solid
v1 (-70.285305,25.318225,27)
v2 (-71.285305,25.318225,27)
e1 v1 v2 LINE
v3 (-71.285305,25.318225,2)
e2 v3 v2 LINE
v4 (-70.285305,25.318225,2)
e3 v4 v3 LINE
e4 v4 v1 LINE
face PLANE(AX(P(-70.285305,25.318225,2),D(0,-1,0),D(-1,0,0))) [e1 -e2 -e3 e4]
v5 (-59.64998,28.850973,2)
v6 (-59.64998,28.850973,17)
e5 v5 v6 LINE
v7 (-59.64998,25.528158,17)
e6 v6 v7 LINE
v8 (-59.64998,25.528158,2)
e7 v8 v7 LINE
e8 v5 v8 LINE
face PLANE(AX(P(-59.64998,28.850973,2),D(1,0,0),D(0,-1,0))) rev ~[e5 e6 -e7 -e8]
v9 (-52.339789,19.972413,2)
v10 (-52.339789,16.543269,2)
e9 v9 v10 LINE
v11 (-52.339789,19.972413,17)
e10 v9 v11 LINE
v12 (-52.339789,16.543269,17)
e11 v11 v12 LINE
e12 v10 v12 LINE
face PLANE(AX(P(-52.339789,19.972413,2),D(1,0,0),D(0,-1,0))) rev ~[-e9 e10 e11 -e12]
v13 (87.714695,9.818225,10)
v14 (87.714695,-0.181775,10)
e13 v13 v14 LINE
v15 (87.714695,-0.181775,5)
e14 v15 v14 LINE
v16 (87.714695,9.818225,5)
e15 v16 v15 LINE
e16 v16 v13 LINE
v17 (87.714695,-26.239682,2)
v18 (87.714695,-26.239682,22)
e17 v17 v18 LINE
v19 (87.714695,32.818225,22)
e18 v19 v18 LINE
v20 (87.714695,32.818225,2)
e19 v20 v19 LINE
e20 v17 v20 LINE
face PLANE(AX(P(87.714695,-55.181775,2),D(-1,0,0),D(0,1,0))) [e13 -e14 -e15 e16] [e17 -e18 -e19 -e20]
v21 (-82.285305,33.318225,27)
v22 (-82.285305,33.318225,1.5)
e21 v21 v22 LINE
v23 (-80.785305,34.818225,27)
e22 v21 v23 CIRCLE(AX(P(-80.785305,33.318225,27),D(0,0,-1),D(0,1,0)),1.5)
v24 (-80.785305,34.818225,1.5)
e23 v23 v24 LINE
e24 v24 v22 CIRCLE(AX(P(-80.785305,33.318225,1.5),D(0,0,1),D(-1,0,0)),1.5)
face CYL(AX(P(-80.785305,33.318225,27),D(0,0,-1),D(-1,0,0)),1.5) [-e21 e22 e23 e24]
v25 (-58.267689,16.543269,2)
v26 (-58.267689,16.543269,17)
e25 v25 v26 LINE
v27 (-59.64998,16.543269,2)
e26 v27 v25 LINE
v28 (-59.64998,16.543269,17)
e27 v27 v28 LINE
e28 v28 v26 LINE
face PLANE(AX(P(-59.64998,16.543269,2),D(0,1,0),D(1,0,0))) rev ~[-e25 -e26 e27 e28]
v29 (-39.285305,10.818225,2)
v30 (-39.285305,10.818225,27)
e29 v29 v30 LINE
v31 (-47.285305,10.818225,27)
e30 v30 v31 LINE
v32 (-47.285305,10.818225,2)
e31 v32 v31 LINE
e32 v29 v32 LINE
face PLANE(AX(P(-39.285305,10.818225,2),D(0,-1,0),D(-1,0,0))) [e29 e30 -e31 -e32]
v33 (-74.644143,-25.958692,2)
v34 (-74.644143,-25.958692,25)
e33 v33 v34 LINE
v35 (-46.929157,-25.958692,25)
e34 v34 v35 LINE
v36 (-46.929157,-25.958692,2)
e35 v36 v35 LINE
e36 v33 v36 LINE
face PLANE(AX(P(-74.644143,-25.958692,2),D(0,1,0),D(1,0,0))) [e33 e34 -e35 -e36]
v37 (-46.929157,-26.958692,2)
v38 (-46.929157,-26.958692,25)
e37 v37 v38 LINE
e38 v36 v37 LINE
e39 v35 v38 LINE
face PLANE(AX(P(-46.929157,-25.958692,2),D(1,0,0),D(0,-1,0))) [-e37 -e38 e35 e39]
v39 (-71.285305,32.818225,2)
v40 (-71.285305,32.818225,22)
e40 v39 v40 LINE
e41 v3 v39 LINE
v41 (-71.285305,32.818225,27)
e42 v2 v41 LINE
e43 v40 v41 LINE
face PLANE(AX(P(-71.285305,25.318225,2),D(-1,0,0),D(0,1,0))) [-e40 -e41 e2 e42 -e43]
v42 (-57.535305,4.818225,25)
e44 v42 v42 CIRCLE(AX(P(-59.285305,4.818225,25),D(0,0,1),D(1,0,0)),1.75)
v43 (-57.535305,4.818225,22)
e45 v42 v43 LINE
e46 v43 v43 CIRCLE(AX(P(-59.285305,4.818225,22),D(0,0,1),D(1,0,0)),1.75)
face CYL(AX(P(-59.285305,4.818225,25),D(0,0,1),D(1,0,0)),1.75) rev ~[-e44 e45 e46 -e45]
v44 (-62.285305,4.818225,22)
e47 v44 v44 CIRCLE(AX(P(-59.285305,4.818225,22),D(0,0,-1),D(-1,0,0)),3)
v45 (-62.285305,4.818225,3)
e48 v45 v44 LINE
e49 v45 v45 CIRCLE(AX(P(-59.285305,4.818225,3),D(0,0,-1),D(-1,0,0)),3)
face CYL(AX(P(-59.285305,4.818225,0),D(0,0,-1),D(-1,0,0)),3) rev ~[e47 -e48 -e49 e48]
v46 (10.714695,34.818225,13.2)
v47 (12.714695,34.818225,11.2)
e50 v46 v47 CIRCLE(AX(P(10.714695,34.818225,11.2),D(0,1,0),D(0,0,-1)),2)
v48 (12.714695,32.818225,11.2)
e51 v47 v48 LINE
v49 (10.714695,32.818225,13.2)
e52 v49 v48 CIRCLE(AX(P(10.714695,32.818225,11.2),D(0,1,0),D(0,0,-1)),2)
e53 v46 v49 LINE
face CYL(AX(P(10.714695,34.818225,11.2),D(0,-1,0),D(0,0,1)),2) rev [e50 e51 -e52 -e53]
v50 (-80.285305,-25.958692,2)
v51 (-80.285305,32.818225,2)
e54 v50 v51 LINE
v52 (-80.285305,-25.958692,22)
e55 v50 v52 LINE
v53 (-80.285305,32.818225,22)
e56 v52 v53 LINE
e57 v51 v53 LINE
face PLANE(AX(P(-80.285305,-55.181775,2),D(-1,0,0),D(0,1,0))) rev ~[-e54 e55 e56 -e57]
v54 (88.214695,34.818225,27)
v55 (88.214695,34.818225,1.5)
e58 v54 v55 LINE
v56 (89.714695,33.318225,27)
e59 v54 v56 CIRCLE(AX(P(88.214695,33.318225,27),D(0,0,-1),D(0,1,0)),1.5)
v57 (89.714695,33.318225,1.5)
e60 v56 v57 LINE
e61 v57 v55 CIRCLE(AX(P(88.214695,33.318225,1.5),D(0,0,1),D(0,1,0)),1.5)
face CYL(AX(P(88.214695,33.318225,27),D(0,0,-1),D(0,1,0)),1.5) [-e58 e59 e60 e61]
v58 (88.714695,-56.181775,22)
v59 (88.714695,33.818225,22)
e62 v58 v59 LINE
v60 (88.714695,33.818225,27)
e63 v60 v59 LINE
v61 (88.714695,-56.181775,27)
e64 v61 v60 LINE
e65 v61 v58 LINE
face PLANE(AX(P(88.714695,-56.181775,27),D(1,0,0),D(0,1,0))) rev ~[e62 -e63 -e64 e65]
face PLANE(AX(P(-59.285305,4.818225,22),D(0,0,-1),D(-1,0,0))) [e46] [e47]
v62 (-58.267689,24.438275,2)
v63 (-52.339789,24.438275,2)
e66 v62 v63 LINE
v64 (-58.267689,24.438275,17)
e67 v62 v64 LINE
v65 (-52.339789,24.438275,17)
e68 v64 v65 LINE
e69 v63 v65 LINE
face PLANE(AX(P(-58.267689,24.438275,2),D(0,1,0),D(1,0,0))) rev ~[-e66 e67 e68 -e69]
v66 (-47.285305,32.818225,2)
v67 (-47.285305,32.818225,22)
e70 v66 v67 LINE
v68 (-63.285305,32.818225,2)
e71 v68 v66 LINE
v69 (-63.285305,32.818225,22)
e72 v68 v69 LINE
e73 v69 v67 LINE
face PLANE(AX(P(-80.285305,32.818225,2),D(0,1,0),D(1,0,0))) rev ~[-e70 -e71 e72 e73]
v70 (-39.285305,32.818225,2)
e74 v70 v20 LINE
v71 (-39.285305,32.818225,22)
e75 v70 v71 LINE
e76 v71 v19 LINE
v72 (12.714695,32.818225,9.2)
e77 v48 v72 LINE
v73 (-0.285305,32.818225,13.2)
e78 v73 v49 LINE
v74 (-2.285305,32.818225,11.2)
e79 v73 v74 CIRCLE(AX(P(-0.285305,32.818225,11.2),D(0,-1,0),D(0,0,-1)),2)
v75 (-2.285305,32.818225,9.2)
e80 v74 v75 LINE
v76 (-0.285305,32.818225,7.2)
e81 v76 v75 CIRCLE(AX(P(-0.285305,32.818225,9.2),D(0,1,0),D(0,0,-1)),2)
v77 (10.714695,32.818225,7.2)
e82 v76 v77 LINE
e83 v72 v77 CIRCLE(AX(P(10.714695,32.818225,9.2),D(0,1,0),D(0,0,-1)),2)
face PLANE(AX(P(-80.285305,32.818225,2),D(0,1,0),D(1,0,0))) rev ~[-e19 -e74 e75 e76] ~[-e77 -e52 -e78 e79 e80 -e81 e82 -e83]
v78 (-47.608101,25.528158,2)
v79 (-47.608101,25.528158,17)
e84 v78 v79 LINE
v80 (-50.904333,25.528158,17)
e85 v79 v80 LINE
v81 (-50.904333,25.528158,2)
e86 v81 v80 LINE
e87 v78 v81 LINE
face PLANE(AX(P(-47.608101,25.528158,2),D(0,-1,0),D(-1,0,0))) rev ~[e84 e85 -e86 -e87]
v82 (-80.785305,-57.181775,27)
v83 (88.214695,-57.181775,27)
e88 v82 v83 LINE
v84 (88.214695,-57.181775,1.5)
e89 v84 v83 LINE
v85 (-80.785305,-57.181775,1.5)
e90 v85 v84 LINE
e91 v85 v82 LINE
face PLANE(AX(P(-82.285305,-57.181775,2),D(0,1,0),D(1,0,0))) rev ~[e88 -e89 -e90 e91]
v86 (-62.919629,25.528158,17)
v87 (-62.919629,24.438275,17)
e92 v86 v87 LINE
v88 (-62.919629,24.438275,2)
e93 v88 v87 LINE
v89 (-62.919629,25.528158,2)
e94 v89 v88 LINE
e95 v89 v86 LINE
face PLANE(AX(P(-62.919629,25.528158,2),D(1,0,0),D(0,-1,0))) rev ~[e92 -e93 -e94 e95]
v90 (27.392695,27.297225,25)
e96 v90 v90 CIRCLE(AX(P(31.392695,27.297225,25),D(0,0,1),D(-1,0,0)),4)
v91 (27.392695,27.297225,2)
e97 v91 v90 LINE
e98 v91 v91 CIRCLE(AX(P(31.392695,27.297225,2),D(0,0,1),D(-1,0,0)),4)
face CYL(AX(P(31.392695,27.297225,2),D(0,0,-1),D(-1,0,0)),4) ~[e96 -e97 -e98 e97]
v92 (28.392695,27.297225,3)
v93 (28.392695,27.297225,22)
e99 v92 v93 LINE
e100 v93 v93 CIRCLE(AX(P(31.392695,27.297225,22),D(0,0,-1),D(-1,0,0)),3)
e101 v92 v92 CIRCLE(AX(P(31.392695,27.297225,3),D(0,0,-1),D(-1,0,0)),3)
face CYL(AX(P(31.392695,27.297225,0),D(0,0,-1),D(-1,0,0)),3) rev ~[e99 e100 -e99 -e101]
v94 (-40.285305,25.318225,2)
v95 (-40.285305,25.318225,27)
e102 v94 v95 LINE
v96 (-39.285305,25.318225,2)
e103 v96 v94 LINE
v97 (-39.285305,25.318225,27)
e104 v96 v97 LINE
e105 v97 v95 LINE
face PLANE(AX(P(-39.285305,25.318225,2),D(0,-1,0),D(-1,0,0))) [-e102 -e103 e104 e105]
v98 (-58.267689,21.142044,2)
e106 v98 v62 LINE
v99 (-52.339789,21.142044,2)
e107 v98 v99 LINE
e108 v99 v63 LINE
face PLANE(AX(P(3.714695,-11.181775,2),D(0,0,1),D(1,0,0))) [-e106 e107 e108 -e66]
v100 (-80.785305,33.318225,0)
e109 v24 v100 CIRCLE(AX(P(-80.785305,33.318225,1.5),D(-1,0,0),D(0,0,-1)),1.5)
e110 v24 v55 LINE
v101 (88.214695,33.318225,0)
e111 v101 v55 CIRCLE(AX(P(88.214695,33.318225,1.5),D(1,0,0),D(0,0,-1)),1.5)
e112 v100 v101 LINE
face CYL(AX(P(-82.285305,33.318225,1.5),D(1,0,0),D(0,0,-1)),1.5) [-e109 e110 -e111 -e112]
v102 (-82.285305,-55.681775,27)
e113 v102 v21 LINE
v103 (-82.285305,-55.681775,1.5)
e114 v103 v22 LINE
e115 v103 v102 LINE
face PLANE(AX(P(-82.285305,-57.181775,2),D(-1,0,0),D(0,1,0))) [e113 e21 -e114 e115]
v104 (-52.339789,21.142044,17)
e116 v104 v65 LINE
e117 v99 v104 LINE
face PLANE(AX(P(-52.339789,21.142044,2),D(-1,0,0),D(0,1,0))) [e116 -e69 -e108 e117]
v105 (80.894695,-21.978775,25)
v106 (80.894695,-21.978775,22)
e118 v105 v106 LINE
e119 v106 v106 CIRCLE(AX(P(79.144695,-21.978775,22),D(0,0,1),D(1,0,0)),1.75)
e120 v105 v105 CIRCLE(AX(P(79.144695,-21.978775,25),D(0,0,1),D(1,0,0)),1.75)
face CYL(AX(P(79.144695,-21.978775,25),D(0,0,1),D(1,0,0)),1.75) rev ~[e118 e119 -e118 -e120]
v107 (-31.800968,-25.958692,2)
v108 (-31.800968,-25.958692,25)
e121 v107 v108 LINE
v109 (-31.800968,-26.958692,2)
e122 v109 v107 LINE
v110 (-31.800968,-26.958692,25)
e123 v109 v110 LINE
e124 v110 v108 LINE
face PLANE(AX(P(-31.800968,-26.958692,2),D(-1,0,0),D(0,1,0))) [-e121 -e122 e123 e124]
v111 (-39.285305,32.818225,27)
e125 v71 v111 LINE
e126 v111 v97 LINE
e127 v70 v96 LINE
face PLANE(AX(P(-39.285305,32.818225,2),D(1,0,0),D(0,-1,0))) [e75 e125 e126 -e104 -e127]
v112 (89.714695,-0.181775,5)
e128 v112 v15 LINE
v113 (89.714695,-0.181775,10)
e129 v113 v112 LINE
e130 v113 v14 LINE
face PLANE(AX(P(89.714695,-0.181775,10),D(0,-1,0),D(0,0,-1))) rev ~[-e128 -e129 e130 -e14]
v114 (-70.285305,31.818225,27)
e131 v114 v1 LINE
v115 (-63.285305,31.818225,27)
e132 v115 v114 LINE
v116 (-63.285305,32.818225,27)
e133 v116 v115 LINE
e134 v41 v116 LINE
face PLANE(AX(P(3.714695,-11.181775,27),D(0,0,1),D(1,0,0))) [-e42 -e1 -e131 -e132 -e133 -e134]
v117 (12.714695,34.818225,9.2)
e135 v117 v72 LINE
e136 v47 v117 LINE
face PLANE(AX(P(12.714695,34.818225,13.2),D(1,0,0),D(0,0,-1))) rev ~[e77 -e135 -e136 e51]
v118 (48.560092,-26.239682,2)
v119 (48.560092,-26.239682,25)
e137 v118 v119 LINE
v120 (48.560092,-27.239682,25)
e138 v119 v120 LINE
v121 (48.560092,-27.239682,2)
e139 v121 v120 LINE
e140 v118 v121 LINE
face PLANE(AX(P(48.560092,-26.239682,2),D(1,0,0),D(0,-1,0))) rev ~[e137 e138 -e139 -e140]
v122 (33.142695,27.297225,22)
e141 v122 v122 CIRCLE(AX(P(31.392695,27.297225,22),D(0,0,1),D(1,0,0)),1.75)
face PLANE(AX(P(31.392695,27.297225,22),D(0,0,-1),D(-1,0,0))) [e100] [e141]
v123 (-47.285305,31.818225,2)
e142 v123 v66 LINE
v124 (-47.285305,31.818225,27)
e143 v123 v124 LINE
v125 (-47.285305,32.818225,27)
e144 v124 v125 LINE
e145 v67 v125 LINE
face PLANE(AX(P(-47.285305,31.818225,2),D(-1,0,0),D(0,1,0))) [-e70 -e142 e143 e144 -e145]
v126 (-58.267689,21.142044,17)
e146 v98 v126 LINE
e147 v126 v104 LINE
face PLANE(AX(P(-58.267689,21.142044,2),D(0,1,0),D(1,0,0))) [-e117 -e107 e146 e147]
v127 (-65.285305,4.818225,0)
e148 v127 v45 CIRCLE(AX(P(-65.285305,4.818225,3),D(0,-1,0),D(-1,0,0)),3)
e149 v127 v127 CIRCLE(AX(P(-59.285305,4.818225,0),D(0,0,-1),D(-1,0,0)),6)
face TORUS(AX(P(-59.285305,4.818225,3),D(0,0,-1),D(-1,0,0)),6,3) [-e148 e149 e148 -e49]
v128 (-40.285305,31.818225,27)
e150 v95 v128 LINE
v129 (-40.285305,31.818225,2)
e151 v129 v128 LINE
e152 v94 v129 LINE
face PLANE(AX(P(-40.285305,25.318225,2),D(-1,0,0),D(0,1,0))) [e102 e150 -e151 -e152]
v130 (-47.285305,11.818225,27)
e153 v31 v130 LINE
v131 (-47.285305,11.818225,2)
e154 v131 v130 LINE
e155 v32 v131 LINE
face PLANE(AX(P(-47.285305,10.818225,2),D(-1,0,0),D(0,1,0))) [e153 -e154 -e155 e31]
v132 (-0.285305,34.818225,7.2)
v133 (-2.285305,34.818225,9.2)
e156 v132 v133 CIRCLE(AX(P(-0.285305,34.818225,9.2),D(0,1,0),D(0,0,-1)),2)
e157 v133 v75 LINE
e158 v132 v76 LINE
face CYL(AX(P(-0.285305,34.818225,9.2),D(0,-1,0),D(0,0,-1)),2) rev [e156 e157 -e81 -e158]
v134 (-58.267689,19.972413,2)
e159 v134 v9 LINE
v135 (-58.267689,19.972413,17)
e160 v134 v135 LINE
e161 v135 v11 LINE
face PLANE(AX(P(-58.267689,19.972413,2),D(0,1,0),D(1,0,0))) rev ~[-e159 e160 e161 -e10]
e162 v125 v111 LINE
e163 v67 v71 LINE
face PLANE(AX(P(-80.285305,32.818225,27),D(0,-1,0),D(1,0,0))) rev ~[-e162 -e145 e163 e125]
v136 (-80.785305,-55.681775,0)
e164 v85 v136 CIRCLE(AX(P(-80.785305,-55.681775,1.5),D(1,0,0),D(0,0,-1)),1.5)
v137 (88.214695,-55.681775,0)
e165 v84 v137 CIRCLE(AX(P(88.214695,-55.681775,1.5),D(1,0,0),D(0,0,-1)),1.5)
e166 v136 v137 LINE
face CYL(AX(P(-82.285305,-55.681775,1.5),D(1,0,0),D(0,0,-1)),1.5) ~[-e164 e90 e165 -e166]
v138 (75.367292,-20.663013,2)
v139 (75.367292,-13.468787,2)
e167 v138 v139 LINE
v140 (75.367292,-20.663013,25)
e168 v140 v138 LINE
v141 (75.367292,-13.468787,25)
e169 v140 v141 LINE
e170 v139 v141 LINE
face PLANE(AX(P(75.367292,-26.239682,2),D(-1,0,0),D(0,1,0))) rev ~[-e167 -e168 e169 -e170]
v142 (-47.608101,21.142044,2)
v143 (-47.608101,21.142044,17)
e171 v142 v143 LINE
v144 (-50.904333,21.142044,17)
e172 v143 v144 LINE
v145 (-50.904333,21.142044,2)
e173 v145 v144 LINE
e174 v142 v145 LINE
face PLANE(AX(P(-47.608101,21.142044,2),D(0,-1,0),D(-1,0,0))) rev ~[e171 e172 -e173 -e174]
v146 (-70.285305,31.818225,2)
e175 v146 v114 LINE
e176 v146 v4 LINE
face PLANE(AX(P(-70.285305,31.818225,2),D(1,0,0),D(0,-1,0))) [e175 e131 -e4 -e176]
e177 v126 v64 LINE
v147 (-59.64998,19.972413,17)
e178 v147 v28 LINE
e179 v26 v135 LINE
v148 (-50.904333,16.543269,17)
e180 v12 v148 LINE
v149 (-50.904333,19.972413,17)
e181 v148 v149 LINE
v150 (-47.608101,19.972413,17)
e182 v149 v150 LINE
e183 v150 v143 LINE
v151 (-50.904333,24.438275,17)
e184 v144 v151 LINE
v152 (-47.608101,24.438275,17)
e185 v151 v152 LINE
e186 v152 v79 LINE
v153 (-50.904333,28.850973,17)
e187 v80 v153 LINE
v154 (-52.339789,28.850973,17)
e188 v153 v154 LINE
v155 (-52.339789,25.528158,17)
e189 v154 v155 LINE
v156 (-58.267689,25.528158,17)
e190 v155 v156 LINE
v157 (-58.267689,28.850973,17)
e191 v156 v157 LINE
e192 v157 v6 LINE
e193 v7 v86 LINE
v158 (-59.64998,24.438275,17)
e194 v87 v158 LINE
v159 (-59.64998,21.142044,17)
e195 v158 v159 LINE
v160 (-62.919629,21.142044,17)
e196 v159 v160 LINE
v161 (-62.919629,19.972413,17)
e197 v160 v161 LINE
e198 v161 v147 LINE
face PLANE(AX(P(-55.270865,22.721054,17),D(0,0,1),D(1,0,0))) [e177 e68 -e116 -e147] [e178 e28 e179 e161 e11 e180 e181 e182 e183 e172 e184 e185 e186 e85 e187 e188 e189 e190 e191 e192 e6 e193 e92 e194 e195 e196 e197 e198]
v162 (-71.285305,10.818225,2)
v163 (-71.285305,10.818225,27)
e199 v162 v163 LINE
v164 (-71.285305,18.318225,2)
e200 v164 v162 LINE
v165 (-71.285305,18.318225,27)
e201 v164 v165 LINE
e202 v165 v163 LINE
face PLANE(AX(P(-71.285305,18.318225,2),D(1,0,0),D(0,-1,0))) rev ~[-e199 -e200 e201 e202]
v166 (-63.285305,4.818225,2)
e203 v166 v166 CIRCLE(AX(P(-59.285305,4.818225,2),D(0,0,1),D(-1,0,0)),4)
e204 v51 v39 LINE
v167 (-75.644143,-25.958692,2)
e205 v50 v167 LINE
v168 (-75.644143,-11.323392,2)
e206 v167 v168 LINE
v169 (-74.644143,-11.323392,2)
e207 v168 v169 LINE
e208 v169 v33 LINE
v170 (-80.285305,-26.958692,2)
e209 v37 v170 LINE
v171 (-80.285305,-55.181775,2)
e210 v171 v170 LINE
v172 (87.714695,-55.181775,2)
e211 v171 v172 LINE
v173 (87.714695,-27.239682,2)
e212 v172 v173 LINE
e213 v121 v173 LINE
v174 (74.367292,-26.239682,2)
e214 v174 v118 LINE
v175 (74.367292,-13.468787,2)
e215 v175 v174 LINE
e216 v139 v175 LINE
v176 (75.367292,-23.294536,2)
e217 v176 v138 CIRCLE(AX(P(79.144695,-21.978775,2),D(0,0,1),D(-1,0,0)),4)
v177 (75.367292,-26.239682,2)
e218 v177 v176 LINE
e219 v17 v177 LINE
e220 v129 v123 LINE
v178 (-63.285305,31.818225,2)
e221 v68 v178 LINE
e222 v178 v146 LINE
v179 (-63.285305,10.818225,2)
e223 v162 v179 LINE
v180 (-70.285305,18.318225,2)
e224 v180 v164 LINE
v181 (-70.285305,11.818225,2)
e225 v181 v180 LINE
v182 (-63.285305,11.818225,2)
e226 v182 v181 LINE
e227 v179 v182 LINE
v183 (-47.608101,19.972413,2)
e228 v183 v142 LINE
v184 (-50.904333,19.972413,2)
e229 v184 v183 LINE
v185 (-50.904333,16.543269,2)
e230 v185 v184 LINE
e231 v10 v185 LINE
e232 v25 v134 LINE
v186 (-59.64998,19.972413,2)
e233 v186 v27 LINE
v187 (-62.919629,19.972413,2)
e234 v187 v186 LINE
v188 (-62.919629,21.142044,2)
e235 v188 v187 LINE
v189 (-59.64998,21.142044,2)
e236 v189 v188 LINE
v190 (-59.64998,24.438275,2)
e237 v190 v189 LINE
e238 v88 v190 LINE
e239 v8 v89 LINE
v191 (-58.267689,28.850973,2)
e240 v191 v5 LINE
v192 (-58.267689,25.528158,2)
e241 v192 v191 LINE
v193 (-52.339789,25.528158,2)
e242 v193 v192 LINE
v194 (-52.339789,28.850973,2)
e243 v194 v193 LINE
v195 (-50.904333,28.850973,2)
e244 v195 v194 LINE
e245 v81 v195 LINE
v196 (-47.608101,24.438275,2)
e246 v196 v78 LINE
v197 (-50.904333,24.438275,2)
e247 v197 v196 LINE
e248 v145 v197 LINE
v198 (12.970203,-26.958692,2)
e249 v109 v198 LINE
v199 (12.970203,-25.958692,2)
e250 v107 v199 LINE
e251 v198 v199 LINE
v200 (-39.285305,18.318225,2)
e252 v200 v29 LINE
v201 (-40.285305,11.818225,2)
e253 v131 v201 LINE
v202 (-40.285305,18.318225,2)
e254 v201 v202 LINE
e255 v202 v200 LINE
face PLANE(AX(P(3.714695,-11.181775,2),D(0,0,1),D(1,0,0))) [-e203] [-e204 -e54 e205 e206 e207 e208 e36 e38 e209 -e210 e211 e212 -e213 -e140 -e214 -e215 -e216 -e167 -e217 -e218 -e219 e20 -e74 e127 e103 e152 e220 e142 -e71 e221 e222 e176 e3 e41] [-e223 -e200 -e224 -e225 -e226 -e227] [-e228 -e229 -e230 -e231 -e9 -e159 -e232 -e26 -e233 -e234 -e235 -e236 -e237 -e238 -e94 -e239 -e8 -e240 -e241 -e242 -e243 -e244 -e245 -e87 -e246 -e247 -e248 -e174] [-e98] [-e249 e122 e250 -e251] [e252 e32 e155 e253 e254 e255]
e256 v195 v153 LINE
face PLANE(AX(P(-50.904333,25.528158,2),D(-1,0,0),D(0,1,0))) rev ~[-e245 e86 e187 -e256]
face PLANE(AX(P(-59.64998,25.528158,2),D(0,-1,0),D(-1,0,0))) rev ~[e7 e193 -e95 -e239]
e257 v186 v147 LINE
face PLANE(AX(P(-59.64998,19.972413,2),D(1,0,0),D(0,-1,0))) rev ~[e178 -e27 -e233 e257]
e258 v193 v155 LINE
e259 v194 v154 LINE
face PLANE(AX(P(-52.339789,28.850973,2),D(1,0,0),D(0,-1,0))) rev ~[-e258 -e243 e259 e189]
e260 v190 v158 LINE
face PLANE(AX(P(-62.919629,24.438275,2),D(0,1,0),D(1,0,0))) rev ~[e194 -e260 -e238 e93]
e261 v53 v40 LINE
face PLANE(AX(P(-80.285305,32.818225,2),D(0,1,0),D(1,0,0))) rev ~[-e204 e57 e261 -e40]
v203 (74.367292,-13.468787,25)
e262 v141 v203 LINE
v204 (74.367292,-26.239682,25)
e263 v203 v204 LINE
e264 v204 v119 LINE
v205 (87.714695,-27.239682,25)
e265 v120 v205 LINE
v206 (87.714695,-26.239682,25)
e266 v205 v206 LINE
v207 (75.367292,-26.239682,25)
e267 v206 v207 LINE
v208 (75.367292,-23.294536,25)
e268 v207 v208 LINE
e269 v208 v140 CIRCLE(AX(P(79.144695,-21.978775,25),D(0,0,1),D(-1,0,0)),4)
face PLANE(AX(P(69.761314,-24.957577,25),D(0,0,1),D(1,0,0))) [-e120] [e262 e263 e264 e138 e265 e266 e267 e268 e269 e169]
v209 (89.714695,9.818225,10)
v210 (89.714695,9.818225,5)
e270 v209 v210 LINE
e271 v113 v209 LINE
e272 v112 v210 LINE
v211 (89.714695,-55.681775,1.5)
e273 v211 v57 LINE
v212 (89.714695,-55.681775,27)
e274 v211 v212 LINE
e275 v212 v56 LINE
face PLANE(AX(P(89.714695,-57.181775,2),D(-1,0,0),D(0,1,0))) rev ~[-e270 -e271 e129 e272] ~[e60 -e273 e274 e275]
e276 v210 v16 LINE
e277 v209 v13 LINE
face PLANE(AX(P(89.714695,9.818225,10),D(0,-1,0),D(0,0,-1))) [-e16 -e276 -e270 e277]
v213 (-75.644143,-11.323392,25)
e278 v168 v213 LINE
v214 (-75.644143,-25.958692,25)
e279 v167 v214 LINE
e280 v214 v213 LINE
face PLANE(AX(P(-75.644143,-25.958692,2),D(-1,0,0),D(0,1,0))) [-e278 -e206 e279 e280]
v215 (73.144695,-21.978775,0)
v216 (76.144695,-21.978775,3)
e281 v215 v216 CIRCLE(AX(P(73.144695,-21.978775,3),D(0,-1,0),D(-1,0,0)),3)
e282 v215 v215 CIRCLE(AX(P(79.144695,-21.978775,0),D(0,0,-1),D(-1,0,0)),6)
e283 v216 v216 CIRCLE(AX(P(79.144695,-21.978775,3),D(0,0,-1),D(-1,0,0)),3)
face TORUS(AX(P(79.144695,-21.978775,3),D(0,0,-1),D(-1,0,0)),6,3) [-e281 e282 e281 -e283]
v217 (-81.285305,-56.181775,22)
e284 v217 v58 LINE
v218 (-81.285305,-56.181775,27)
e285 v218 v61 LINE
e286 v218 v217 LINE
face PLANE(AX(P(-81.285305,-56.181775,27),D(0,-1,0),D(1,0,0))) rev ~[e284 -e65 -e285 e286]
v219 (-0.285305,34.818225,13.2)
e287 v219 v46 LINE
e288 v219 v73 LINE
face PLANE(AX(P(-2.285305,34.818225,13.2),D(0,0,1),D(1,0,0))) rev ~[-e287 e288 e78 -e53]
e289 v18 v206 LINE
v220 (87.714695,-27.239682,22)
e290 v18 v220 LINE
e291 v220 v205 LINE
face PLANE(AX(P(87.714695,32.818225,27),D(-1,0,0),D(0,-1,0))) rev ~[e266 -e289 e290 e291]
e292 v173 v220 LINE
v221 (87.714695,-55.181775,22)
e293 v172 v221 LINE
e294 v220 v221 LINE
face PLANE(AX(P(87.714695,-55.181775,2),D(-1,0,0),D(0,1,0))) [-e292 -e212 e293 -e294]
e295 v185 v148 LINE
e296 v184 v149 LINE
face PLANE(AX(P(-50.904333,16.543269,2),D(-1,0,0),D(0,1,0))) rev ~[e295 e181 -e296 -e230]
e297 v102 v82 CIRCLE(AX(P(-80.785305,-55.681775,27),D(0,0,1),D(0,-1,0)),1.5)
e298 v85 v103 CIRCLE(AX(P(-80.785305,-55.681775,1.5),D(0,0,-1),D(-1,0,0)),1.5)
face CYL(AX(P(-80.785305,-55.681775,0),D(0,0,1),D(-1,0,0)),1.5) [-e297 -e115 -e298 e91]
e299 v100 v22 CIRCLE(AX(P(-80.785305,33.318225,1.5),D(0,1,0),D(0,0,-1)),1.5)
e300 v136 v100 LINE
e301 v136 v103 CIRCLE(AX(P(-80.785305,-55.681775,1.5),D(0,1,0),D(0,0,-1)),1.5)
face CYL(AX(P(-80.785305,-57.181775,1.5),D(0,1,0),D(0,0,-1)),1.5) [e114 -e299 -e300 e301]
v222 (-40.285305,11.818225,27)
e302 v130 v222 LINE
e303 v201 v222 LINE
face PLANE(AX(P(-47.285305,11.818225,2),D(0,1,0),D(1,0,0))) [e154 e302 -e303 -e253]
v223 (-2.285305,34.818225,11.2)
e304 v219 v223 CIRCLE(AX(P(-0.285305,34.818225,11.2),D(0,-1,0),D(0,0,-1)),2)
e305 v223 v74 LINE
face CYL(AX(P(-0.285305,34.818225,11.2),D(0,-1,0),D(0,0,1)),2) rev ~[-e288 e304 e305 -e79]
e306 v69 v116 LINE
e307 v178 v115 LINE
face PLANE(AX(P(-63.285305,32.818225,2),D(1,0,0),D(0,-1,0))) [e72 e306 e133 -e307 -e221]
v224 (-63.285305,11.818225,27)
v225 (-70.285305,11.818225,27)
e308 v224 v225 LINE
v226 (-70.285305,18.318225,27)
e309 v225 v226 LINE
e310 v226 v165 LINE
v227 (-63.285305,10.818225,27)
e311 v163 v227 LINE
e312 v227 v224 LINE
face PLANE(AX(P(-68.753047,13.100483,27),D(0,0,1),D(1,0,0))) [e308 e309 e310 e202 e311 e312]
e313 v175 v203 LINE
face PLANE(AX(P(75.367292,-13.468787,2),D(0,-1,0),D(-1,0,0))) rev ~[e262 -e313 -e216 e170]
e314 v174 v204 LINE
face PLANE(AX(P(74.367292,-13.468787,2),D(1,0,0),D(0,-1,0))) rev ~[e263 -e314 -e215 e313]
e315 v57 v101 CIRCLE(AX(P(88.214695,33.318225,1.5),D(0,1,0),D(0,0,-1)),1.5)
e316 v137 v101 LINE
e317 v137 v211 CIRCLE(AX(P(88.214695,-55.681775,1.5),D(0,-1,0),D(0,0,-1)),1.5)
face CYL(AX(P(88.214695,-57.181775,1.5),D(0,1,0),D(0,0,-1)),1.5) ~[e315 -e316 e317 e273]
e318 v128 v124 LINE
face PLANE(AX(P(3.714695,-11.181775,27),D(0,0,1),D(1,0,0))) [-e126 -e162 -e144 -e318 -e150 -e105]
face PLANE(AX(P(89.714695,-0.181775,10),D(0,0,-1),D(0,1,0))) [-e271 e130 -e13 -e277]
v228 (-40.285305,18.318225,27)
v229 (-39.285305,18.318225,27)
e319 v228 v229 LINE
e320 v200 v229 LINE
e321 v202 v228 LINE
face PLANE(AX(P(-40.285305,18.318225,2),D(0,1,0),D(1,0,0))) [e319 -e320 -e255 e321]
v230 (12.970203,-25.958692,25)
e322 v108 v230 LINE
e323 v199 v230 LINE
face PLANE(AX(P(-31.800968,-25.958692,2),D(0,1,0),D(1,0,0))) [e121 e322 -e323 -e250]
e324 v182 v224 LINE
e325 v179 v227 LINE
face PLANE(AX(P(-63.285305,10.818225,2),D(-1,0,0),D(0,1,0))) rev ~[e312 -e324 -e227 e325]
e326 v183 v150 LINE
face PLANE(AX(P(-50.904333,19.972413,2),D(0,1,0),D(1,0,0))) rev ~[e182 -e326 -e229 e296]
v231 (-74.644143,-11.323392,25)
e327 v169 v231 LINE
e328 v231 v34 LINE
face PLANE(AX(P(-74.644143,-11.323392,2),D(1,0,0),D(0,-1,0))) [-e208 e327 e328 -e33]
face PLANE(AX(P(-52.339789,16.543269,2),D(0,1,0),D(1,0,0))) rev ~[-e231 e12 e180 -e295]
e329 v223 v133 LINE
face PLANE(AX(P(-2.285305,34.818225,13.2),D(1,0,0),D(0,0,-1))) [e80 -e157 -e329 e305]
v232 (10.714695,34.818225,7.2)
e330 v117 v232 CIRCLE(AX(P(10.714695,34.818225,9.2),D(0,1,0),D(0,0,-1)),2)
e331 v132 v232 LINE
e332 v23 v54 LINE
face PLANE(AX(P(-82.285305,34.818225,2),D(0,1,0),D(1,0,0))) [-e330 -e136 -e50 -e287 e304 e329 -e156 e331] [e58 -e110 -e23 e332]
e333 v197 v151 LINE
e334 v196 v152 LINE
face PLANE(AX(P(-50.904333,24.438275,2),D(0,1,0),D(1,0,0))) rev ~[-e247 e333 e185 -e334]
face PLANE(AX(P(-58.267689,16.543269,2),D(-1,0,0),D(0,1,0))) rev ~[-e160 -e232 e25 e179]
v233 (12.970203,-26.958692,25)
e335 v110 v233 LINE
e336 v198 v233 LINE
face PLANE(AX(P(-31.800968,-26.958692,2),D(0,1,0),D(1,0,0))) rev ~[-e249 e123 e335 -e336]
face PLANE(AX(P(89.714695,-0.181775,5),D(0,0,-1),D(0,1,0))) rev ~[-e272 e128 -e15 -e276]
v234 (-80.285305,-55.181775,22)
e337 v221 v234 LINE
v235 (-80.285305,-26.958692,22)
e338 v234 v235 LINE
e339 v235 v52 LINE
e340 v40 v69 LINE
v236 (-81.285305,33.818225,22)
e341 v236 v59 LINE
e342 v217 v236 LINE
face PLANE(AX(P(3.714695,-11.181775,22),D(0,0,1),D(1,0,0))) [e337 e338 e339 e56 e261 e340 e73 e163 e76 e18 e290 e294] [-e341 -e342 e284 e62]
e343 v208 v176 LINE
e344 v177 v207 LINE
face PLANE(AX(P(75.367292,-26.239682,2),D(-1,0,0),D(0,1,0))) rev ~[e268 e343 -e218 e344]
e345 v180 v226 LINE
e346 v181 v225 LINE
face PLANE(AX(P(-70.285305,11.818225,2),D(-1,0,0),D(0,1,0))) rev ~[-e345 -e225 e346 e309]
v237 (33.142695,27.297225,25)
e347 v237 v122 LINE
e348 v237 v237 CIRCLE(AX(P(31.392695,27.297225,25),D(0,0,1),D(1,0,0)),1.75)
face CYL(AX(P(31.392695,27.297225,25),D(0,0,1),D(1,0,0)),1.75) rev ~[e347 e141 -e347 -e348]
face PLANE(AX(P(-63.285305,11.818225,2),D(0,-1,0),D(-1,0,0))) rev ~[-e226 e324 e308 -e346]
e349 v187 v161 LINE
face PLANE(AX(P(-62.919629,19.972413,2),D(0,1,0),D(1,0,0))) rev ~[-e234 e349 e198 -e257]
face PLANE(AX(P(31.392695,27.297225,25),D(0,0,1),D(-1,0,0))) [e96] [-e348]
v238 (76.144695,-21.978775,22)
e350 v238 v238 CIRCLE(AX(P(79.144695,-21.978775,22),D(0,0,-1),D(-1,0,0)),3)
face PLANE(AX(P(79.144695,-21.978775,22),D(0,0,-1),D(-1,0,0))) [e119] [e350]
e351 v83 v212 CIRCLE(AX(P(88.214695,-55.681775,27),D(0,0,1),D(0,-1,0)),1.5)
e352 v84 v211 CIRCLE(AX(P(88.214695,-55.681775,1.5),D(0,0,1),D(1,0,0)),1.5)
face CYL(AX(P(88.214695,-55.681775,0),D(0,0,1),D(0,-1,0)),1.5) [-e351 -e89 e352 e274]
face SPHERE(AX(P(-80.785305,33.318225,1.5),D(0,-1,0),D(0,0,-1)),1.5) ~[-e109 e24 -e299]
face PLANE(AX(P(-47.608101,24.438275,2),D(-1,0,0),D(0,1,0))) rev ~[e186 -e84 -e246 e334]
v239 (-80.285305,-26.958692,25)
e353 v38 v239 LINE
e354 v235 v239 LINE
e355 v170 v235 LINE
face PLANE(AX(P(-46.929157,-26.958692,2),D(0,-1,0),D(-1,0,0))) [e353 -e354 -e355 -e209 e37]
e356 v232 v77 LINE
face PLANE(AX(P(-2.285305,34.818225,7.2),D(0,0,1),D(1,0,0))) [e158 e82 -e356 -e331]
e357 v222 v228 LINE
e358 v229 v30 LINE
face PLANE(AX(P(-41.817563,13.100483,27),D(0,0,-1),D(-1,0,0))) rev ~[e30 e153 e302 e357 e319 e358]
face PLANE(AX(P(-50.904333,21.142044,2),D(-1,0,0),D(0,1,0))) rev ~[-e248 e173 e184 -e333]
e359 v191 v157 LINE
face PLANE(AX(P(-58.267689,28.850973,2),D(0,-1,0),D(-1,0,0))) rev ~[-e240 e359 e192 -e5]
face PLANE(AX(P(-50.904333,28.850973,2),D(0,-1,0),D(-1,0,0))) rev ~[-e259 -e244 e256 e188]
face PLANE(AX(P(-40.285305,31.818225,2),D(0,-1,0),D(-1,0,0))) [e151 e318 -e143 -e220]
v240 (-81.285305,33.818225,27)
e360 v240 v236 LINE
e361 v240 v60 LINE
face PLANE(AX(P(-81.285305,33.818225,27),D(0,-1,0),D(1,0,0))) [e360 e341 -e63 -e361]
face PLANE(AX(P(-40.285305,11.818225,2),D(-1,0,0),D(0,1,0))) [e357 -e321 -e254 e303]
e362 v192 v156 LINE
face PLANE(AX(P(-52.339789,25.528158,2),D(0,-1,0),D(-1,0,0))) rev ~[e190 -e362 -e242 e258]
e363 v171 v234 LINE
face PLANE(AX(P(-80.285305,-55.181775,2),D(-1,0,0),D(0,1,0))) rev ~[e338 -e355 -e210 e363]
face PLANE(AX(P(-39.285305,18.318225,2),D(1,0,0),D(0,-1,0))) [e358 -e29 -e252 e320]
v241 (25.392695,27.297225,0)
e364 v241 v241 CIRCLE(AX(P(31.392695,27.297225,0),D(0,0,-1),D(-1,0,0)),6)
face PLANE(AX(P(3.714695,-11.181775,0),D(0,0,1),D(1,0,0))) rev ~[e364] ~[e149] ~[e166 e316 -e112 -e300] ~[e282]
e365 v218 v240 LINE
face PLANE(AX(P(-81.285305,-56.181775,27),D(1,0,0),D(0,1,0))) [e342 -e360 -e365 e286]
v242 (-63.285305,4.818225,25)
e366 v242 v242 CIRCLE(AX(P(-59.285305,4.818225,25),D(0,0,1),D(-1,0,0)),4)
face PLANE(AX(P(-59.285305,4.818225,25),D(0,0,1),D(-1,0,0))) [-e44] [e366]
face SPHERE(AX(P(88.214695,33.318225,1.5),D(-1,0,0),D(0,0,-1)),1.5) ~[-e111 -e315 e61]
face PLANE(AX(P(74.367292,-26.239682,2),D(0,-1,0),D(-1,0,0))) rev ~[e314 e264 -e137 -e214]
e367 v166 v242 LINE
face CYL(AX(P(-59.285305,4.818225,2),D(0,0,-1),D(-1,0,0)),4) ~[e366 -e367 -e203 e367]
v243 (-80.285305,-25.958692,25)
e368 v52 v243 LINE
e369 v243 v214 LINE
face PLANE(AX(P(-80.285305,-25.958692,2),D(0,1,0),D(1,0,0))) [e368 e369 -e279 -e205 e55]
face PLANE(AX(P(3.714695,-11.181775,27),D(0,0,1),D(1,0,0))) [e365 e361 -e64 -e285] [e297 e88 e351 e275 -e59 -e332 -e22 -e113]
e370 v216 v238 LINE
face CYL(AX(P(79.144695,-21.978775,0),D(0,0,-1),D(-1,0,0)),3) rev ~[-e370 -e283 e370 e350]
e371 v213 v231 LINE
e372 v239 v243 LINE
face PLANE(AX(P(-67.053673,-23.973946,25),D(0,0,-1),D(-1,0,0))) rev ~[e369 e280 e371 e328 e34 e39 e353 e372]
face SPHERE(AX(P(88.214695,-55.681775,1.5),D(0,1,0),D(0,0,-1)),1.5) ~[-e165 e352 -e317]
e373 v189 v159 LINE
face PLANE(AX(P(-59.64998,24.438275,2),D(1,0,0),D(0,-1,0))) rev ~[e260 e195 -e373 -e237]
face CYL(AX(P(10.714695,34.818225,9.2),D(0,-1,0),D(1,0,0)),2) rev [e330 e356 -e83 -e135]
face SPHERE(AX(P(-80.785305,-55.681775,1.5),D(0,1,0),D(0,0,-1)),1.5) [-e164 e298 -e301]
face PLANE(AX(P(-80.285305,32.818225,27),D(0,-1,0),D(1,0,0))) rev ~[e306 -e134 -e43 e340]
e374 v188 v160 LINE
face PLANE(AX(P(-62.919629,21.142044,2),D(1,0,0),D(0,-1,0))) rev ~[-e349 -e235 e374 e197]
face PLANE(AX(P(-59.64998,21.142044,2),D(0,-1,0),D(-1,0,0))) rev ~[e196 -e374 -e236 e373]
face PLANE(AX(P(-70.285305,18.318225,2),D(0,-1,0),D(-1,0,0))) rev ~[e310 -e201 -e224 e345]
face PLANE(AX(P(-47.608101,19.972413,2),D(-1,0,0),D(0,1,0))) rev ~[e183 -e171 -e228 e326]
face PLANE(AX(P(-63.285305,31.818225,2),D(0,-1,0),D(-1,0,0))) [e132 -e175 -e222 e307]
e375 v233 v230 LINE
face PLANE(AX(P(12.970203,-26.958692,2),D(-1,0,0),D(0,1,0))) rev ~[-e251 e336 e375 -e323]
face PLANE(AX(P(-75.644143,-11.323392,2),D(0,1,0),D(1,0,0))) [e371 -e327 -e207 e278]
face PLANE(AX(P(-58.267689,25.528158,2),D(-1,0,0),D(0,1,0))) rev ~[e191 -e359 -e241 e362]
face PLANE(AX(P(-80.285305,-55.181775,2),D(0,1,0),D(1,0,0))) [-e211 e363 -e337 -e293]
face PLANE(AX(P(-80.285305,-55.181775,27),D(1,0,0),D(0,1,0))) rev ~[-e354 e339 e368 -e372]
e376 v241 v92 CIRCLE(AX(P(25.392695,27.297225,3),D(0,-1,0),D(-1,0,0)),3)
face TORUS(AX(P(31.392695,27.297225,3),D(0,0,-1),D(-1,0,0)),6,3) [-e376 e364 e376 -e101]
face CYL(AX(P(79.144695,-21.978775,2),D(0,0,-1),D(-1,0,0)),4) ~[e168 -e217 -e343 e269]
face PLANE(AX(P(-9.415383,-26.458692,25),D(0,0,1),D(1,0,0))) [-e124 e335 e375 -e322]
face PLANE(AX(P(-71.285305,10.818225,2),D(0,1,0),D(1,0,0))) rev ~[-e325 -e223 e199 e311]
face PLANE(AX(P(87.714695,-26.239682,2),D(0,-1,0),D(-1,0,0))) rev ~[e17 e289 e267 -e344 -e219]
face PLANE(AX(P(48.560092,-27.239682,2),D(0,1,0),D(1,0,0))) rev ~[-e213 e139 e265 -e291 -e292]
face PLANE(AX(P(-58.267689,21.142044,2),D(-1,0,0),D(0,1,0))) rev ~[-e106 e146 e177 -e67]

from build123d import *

# Parameters (mm, degrees)
SKETCH_1_W          = 172
SKETCH_1_H          = 92
EXTRUDE_1_DEPTH     = 2
SKETCH_2_W          = 172
SKETCH_2_H          = 92
SKETCH_2_W_2        = 168
SKETCH_2_H_2        = 88
EXTRUDE_2_DEPTH     = 25
EXTRUDE_3_DEPTH     = 25
SKETCH_4_W          = 5.927900585
SKETCH_4_H          = 3.296231716
EXTRUDE_4_DEPTH     = 15
SKETCH_5_R          = 4
EXTRUDE_5_DEPTH     = 23
SKETCH_6_R          = 1.75
CUT_EXTRUDE_1_DEPTH = 30
SKETCH_7_R          = 3
CUT_EXTRUDE_2_DEPTH = 22
SKETCH_8_R          = 4
EXTRUDE_6_DEPTH     = 23
SKETCH_9_R          = 1.75
CUT_EXTRUDE_3_DEPTH = 30
SKETCH_10_R         = 1.75
CUT_EXTRUDE_4_DEPTH = 30
SKETCH_11_R         = 3
CUT_EXTRUDE_5_DEPTH = 22
SKETCH_12_W         = 44.771170363
SKETCH_12_H         = 1
EXTRUDE_7_DEPTH     = 23
SKETCH_13_W         = 15
SKETCH_13_H         = 6
CUT_EXTRUDE_6_DEPTH = 23
FILLET_1_R          = 2
FILLET_2_R          = 3
SKETCH_14_W         = 5
SKETCH_14_H         = 10
CUT_EXTRUDE_7_DEPTH = 23
SKETCH_15_W         = 170
SKETCH_15_H         = 90
CUT_EXTRUDE_8_DEPTH = 5
FILLET_3_R          = 1.5


with BuildPart() as part:
    # 草图1 → 凸台-拉伸1 (new body)
    with BuildSketch(Plane.XY):
        with Locations((3.714694656, -11.181774809)):
            Rectangle(SKETCH_1_W, SKETCH_1_H)
    extrude(amount=EXTRUDE_1_DEPTH)

    # 草图2 → 凸台-拉伸2 (add)
    with BuildSketch(Plane.XY.offset(2)):
        with Locations((3.714694656, -11.181774809)):
            Rectangle(SKETCH_2_W, SKETCH_2_H)
        with Locations((3.714694656, -11.181774809)):
            Rectangle(SKETCH_2_W_2, SKETCH_2_H_2, mode=Mode.SUBTRACT)
    extrude(amount=EXTRUDE_2_DEPTH)

    # 草图3 → 凸台-拉伸3 (add)
    with BuildSketch(Plane.XY.offset(2)):
        Polygon((-71.285305344, 32.818225191), (-63.285305344, 32.818225191), (-63.285305344, 31.818225191), (-70.285305344, 31.818225191), (-70.285305344, 25.318225191), (-71.285305344, 25.318225191), align=None)
        Polygon((-71.285305344, 10.818225191), (-63.285305344, 10.818225191), (-63.285305344, 11.818225191), (-70.285305344, 11.818225191), (-70.285305344, 18.318225191), (-71.285305344, 18.318225191), align=None)
        Polygon((-39.285305344, 32.818225191), (-39.285305344, 25.318225191), (-40.285305344, 25.318225191), (-40.285305344, 31.818225191), (-47.285305344, 31.818225191), (-47.285305344, 32.818225191), align=None)
        Polygon((-40.285305344, 18.318225191), (-39.285305344, 18.318225191), (-39.285305344, 10.818225191), (-47.285305344, 10.818225191), (-47.285305344, 11.818225191), (-40.285305344, 11.818225191), align=None)
    extrude(amount=EXTRUDE_3_DEPTH)

    # 草图4 → 凸台-拉伸4 (add)
    with BuildSketch(Plane.XY.offset(2)):
        Polygon((-59.649980097, 24.438275263), (-59.649980097, 21.142043547), (-62.919629299, 21.142043547), (-62.919629299, 19.972412939), (-59.649980097, 19.972412939), (-59.649980097, 16.543268654), (-58.267689377, 16.543268654), (-58.267689377, 19.972412939), (-52.339788792, 19.972412939), (-52.339788792, 16.543268654), (-50.904333045, 16.543268654), (-50.904333045, 19.972412939), (-47.608101329, 19.972412939), (-47.608101329, 21.142043547), (-50.904333045, 21.142043547), (-50.904333045, 24.438275263), (-47.608101329, 24.438275263), (-47.608101329, 25.528158331), (-50.904333045, 25.528158331), (-50.904333045, 28.85097256), (-52.339788792, 28.85097256), (-52.339788792, 25.528158331), (-58.267689377, 25.528158331), (-58.267689377, 28.85097256), (-59.649980097, 28.85097256), (-59.649980097, 25.528158331), (-62.919629299, 25.528158331), (-62.919629299, 24.438275263), align=None)
        with Locations((-55.303739085, 22.790159405)):
            Rectangle(SKETCH_4_W, SKETCH_4_H, mode=Mode.SUBTRACT)
    extrude(amount=EXTRUDE_4_DEPTH)

    # 草图5 → 凸台-拉伸5 (add)
    with BuildSketch(Plane.XY.offset(2)):
        with Locations(Location((-59.285305344, 4.818225191, 0), (0, 0, 180))):
            Circle(SKETCH_5_R)
    extrude(amount=EXTRUDE_5_DEPTH)

    # 草图6 → 切除-拉伸1 (cut)
    with BuildSketch(Plane.XY.offset(25)):
        with Locations((-59.285305344, 4.818225191)):
            Circle(SKETCH_6_R)
    extrude(amount=-CUT_EXTRUDE_1_DEPTH, mode=Mode.SUBTRACT)

    # 草图7 → 切除-拉伸2 (cut)
    with BuildSketch(Plane(origin=(0, 0, 0), x_dir=(-1, 0, 0), z_dir=(0, 0, -1))):
        with Locations((59.285305344, 4.818225191)):
            Circle(SKETCH_7_R)
    extrude(amount=-CUT_EXTRUDE_2_DEPTH, mode=Mode.SUBTRACT)

    # 草图8 → 凸台-拉伸6 (add)
    with BuildSketch(Plane.XY.offset(2)):
        with Locations(Location((31.392694656, 27.297225191, 0), (0, 0, 180))):
            Circle(SKETCH_8_R)
        with Locations(Location((79.144694656, -21.978774809, 0), (0, 0, 180))):
            Circle(SKETCH_8_R)
    extrude(amount=EXTRUDE_6_DEPTH)

    # 草图9 → 切除-拉伸3 (cut)
    with BuildSketch(Plane.XY.offset(25)):
        with Locations((31.392694656, 27.297225191)):
            Circle(SKETCH_9_R)
    extrude(amount=-CUT_EXTRUDE_3_DEPTH, mode=Mode.SUBTRACT)

    # 草图10 → 切除-拉伸4 (cut)
    with BuildSketch(Plane.XY.offset(25)):
        with Locations((79.144694656, -21.978774809)):
            Circle(SKETCH_10_R)
    extrude(amount=-CUT_EXTRUDE_4_DEPTH, mode=Mode.SUBTRACT)

    # 草图11 → 切除-拉伸5 (cut)
    with BuildSketch(Plane(origin=(0, 0, 0), x_dir=(-1, 0, 0), z_dir=(0, 0, -1))):
        with Locations((-31.392694656, 27.297225191)):
            Circle(SKETCH_11_R)
        with Locations((-79.144694656, -21.978774809)):
            Circle(SKETCH_11_R)
    extrude(amount=-CUT_EXTRUDE_5_DEPTH, mode=Mode.SUBTRACT)

    # 草图12 → 凸台-拉伸7 (add)
    with BuildSketch(Plane.XY.offset(2)):
        Polygon((87.714694656, -26.239681565), (75.367291859, -26.239681565), (75.367291859, -13.468786918), (74.367291859, -13.468786918), (74.367291859, -26.239681565), (48.560091816, -26.239681565), (48.560091816, -27.239681565), (87.714694656, -27.239681565), align=None)
        Polygon((-80.285305344, -25.958692289), (-75.644143466, -25.958692289), (-75.644143466, -11.323392388), (-74.644143466, -11.323392388), (-74.644143466, -25.958692289), (-46.929156899, -25.958692289), (-46.929156899, -26.958692289), (-80.285305344, -26.958692289), align=None)
        with Locations((-9.415382556, -26.458692289)):
            Rectangle(SKETCH_12_W, SKETCH_12_H)
    extrude(amount=EXTRUDE_7_DEPTH)

    # 草图13 → 切除-拉伸6 (cut)
    with BuildSketch(Plane(origin=(0, 34.818225191, 0), x_dir=(1, 0, 0), z_dir=(0, 1, 0))):
        with Locations((5.214694656, -10.2)):
            Rectangle(SKETCH_13_W, SKETCH_13_H)
    extrude(amount=-CUT_EXTRUDE_6_DEPTH, mode=Mode.SUBTRACT)

    # 圆角1
    fillet_1_edges = [part.edges().sort_by_distance(p)[0] for p in [
        (-2.285305344, 33.818225191, 13.2),
        (-2.285305344, 33.818225191, 7.2),
        (12.714694656, 33.818225191, 7.2),
        (12.714694656, 33.818225191, 13.2),
    ]]
    fillet(fillet_1_edges, radius=FILLET_1_R)

    # 圆角2
    fillet_2_edges = [part.edges().sort_by_distance(p)[0] for p in [
        (-56.285305344, 4.818225191, 0),
        (34.392694656, 27.297225191, 0),
        (82.144694656, -21.978774809, 0),
    ]]
    fillet(fillet_2_edges, radius=FILLET_2_R)

    # 草图14 → 切除-拉伸7 (cut)
    with BuildSketch(Plane(origin=(89.714694656, 0, 0), x_dir=(0, 0, -1), z_dir=(1, 0, 0))):
        with Locations((-7.5, 4.818225191)):
            Rectangle(SKETCH_14_W, SKETCH_14_H)
    extrude(amount=-CUT_EXTRUDE_7_DEPTH, mode=Mode.SUBTRACT)

    # 草图15 → 切除-拉伸8 (cut)
    with BuildSketch(Plane.XY.offset(27)):
        with Locations((3.714694656, -11.181774809)):
            Rectangle(SKETCH_15_W, SKETCH_15_H)
        Polygon((-80.285305344, 32.818225191), (-71.285305344, 32.818225191), (-63.285305344, 32.818225191), (-47.285305344, 32.818225191), (-39.285305344, 32.818225191), (87.714694656, 32.818225191), (87.714694656, -55.181774809), (-80.285305344, -55.181774809), align=None, mode=Mode.SUBTRACT)
    extrude(amount=-CUT_EXTRUDE_8_DEPTH, mode=Mode.SUBTRACT)

    # 圆角3
    fillet_3_edges = [part.edges().sort_by_distance(p)[0] for p in [
        (-82.285305344, -11.181774809, 0),
        (3.714694656, 34.818225191, 0),
        (89.714694656, -11.181774809, 0),
        (3.714694656, -57.181774809, 0),
        (-82.285305344, -57.181774809, 13.5),
        (-82.285305344, 34.818225191, 13.5),
        (89.714694656, 34.818225191, 13.5),
        (89.714694656, -57.181774809, 13.5),
    ]]
    fillet(fillet_3_edges, radius=FILLET_3_R)


solid = part.part
